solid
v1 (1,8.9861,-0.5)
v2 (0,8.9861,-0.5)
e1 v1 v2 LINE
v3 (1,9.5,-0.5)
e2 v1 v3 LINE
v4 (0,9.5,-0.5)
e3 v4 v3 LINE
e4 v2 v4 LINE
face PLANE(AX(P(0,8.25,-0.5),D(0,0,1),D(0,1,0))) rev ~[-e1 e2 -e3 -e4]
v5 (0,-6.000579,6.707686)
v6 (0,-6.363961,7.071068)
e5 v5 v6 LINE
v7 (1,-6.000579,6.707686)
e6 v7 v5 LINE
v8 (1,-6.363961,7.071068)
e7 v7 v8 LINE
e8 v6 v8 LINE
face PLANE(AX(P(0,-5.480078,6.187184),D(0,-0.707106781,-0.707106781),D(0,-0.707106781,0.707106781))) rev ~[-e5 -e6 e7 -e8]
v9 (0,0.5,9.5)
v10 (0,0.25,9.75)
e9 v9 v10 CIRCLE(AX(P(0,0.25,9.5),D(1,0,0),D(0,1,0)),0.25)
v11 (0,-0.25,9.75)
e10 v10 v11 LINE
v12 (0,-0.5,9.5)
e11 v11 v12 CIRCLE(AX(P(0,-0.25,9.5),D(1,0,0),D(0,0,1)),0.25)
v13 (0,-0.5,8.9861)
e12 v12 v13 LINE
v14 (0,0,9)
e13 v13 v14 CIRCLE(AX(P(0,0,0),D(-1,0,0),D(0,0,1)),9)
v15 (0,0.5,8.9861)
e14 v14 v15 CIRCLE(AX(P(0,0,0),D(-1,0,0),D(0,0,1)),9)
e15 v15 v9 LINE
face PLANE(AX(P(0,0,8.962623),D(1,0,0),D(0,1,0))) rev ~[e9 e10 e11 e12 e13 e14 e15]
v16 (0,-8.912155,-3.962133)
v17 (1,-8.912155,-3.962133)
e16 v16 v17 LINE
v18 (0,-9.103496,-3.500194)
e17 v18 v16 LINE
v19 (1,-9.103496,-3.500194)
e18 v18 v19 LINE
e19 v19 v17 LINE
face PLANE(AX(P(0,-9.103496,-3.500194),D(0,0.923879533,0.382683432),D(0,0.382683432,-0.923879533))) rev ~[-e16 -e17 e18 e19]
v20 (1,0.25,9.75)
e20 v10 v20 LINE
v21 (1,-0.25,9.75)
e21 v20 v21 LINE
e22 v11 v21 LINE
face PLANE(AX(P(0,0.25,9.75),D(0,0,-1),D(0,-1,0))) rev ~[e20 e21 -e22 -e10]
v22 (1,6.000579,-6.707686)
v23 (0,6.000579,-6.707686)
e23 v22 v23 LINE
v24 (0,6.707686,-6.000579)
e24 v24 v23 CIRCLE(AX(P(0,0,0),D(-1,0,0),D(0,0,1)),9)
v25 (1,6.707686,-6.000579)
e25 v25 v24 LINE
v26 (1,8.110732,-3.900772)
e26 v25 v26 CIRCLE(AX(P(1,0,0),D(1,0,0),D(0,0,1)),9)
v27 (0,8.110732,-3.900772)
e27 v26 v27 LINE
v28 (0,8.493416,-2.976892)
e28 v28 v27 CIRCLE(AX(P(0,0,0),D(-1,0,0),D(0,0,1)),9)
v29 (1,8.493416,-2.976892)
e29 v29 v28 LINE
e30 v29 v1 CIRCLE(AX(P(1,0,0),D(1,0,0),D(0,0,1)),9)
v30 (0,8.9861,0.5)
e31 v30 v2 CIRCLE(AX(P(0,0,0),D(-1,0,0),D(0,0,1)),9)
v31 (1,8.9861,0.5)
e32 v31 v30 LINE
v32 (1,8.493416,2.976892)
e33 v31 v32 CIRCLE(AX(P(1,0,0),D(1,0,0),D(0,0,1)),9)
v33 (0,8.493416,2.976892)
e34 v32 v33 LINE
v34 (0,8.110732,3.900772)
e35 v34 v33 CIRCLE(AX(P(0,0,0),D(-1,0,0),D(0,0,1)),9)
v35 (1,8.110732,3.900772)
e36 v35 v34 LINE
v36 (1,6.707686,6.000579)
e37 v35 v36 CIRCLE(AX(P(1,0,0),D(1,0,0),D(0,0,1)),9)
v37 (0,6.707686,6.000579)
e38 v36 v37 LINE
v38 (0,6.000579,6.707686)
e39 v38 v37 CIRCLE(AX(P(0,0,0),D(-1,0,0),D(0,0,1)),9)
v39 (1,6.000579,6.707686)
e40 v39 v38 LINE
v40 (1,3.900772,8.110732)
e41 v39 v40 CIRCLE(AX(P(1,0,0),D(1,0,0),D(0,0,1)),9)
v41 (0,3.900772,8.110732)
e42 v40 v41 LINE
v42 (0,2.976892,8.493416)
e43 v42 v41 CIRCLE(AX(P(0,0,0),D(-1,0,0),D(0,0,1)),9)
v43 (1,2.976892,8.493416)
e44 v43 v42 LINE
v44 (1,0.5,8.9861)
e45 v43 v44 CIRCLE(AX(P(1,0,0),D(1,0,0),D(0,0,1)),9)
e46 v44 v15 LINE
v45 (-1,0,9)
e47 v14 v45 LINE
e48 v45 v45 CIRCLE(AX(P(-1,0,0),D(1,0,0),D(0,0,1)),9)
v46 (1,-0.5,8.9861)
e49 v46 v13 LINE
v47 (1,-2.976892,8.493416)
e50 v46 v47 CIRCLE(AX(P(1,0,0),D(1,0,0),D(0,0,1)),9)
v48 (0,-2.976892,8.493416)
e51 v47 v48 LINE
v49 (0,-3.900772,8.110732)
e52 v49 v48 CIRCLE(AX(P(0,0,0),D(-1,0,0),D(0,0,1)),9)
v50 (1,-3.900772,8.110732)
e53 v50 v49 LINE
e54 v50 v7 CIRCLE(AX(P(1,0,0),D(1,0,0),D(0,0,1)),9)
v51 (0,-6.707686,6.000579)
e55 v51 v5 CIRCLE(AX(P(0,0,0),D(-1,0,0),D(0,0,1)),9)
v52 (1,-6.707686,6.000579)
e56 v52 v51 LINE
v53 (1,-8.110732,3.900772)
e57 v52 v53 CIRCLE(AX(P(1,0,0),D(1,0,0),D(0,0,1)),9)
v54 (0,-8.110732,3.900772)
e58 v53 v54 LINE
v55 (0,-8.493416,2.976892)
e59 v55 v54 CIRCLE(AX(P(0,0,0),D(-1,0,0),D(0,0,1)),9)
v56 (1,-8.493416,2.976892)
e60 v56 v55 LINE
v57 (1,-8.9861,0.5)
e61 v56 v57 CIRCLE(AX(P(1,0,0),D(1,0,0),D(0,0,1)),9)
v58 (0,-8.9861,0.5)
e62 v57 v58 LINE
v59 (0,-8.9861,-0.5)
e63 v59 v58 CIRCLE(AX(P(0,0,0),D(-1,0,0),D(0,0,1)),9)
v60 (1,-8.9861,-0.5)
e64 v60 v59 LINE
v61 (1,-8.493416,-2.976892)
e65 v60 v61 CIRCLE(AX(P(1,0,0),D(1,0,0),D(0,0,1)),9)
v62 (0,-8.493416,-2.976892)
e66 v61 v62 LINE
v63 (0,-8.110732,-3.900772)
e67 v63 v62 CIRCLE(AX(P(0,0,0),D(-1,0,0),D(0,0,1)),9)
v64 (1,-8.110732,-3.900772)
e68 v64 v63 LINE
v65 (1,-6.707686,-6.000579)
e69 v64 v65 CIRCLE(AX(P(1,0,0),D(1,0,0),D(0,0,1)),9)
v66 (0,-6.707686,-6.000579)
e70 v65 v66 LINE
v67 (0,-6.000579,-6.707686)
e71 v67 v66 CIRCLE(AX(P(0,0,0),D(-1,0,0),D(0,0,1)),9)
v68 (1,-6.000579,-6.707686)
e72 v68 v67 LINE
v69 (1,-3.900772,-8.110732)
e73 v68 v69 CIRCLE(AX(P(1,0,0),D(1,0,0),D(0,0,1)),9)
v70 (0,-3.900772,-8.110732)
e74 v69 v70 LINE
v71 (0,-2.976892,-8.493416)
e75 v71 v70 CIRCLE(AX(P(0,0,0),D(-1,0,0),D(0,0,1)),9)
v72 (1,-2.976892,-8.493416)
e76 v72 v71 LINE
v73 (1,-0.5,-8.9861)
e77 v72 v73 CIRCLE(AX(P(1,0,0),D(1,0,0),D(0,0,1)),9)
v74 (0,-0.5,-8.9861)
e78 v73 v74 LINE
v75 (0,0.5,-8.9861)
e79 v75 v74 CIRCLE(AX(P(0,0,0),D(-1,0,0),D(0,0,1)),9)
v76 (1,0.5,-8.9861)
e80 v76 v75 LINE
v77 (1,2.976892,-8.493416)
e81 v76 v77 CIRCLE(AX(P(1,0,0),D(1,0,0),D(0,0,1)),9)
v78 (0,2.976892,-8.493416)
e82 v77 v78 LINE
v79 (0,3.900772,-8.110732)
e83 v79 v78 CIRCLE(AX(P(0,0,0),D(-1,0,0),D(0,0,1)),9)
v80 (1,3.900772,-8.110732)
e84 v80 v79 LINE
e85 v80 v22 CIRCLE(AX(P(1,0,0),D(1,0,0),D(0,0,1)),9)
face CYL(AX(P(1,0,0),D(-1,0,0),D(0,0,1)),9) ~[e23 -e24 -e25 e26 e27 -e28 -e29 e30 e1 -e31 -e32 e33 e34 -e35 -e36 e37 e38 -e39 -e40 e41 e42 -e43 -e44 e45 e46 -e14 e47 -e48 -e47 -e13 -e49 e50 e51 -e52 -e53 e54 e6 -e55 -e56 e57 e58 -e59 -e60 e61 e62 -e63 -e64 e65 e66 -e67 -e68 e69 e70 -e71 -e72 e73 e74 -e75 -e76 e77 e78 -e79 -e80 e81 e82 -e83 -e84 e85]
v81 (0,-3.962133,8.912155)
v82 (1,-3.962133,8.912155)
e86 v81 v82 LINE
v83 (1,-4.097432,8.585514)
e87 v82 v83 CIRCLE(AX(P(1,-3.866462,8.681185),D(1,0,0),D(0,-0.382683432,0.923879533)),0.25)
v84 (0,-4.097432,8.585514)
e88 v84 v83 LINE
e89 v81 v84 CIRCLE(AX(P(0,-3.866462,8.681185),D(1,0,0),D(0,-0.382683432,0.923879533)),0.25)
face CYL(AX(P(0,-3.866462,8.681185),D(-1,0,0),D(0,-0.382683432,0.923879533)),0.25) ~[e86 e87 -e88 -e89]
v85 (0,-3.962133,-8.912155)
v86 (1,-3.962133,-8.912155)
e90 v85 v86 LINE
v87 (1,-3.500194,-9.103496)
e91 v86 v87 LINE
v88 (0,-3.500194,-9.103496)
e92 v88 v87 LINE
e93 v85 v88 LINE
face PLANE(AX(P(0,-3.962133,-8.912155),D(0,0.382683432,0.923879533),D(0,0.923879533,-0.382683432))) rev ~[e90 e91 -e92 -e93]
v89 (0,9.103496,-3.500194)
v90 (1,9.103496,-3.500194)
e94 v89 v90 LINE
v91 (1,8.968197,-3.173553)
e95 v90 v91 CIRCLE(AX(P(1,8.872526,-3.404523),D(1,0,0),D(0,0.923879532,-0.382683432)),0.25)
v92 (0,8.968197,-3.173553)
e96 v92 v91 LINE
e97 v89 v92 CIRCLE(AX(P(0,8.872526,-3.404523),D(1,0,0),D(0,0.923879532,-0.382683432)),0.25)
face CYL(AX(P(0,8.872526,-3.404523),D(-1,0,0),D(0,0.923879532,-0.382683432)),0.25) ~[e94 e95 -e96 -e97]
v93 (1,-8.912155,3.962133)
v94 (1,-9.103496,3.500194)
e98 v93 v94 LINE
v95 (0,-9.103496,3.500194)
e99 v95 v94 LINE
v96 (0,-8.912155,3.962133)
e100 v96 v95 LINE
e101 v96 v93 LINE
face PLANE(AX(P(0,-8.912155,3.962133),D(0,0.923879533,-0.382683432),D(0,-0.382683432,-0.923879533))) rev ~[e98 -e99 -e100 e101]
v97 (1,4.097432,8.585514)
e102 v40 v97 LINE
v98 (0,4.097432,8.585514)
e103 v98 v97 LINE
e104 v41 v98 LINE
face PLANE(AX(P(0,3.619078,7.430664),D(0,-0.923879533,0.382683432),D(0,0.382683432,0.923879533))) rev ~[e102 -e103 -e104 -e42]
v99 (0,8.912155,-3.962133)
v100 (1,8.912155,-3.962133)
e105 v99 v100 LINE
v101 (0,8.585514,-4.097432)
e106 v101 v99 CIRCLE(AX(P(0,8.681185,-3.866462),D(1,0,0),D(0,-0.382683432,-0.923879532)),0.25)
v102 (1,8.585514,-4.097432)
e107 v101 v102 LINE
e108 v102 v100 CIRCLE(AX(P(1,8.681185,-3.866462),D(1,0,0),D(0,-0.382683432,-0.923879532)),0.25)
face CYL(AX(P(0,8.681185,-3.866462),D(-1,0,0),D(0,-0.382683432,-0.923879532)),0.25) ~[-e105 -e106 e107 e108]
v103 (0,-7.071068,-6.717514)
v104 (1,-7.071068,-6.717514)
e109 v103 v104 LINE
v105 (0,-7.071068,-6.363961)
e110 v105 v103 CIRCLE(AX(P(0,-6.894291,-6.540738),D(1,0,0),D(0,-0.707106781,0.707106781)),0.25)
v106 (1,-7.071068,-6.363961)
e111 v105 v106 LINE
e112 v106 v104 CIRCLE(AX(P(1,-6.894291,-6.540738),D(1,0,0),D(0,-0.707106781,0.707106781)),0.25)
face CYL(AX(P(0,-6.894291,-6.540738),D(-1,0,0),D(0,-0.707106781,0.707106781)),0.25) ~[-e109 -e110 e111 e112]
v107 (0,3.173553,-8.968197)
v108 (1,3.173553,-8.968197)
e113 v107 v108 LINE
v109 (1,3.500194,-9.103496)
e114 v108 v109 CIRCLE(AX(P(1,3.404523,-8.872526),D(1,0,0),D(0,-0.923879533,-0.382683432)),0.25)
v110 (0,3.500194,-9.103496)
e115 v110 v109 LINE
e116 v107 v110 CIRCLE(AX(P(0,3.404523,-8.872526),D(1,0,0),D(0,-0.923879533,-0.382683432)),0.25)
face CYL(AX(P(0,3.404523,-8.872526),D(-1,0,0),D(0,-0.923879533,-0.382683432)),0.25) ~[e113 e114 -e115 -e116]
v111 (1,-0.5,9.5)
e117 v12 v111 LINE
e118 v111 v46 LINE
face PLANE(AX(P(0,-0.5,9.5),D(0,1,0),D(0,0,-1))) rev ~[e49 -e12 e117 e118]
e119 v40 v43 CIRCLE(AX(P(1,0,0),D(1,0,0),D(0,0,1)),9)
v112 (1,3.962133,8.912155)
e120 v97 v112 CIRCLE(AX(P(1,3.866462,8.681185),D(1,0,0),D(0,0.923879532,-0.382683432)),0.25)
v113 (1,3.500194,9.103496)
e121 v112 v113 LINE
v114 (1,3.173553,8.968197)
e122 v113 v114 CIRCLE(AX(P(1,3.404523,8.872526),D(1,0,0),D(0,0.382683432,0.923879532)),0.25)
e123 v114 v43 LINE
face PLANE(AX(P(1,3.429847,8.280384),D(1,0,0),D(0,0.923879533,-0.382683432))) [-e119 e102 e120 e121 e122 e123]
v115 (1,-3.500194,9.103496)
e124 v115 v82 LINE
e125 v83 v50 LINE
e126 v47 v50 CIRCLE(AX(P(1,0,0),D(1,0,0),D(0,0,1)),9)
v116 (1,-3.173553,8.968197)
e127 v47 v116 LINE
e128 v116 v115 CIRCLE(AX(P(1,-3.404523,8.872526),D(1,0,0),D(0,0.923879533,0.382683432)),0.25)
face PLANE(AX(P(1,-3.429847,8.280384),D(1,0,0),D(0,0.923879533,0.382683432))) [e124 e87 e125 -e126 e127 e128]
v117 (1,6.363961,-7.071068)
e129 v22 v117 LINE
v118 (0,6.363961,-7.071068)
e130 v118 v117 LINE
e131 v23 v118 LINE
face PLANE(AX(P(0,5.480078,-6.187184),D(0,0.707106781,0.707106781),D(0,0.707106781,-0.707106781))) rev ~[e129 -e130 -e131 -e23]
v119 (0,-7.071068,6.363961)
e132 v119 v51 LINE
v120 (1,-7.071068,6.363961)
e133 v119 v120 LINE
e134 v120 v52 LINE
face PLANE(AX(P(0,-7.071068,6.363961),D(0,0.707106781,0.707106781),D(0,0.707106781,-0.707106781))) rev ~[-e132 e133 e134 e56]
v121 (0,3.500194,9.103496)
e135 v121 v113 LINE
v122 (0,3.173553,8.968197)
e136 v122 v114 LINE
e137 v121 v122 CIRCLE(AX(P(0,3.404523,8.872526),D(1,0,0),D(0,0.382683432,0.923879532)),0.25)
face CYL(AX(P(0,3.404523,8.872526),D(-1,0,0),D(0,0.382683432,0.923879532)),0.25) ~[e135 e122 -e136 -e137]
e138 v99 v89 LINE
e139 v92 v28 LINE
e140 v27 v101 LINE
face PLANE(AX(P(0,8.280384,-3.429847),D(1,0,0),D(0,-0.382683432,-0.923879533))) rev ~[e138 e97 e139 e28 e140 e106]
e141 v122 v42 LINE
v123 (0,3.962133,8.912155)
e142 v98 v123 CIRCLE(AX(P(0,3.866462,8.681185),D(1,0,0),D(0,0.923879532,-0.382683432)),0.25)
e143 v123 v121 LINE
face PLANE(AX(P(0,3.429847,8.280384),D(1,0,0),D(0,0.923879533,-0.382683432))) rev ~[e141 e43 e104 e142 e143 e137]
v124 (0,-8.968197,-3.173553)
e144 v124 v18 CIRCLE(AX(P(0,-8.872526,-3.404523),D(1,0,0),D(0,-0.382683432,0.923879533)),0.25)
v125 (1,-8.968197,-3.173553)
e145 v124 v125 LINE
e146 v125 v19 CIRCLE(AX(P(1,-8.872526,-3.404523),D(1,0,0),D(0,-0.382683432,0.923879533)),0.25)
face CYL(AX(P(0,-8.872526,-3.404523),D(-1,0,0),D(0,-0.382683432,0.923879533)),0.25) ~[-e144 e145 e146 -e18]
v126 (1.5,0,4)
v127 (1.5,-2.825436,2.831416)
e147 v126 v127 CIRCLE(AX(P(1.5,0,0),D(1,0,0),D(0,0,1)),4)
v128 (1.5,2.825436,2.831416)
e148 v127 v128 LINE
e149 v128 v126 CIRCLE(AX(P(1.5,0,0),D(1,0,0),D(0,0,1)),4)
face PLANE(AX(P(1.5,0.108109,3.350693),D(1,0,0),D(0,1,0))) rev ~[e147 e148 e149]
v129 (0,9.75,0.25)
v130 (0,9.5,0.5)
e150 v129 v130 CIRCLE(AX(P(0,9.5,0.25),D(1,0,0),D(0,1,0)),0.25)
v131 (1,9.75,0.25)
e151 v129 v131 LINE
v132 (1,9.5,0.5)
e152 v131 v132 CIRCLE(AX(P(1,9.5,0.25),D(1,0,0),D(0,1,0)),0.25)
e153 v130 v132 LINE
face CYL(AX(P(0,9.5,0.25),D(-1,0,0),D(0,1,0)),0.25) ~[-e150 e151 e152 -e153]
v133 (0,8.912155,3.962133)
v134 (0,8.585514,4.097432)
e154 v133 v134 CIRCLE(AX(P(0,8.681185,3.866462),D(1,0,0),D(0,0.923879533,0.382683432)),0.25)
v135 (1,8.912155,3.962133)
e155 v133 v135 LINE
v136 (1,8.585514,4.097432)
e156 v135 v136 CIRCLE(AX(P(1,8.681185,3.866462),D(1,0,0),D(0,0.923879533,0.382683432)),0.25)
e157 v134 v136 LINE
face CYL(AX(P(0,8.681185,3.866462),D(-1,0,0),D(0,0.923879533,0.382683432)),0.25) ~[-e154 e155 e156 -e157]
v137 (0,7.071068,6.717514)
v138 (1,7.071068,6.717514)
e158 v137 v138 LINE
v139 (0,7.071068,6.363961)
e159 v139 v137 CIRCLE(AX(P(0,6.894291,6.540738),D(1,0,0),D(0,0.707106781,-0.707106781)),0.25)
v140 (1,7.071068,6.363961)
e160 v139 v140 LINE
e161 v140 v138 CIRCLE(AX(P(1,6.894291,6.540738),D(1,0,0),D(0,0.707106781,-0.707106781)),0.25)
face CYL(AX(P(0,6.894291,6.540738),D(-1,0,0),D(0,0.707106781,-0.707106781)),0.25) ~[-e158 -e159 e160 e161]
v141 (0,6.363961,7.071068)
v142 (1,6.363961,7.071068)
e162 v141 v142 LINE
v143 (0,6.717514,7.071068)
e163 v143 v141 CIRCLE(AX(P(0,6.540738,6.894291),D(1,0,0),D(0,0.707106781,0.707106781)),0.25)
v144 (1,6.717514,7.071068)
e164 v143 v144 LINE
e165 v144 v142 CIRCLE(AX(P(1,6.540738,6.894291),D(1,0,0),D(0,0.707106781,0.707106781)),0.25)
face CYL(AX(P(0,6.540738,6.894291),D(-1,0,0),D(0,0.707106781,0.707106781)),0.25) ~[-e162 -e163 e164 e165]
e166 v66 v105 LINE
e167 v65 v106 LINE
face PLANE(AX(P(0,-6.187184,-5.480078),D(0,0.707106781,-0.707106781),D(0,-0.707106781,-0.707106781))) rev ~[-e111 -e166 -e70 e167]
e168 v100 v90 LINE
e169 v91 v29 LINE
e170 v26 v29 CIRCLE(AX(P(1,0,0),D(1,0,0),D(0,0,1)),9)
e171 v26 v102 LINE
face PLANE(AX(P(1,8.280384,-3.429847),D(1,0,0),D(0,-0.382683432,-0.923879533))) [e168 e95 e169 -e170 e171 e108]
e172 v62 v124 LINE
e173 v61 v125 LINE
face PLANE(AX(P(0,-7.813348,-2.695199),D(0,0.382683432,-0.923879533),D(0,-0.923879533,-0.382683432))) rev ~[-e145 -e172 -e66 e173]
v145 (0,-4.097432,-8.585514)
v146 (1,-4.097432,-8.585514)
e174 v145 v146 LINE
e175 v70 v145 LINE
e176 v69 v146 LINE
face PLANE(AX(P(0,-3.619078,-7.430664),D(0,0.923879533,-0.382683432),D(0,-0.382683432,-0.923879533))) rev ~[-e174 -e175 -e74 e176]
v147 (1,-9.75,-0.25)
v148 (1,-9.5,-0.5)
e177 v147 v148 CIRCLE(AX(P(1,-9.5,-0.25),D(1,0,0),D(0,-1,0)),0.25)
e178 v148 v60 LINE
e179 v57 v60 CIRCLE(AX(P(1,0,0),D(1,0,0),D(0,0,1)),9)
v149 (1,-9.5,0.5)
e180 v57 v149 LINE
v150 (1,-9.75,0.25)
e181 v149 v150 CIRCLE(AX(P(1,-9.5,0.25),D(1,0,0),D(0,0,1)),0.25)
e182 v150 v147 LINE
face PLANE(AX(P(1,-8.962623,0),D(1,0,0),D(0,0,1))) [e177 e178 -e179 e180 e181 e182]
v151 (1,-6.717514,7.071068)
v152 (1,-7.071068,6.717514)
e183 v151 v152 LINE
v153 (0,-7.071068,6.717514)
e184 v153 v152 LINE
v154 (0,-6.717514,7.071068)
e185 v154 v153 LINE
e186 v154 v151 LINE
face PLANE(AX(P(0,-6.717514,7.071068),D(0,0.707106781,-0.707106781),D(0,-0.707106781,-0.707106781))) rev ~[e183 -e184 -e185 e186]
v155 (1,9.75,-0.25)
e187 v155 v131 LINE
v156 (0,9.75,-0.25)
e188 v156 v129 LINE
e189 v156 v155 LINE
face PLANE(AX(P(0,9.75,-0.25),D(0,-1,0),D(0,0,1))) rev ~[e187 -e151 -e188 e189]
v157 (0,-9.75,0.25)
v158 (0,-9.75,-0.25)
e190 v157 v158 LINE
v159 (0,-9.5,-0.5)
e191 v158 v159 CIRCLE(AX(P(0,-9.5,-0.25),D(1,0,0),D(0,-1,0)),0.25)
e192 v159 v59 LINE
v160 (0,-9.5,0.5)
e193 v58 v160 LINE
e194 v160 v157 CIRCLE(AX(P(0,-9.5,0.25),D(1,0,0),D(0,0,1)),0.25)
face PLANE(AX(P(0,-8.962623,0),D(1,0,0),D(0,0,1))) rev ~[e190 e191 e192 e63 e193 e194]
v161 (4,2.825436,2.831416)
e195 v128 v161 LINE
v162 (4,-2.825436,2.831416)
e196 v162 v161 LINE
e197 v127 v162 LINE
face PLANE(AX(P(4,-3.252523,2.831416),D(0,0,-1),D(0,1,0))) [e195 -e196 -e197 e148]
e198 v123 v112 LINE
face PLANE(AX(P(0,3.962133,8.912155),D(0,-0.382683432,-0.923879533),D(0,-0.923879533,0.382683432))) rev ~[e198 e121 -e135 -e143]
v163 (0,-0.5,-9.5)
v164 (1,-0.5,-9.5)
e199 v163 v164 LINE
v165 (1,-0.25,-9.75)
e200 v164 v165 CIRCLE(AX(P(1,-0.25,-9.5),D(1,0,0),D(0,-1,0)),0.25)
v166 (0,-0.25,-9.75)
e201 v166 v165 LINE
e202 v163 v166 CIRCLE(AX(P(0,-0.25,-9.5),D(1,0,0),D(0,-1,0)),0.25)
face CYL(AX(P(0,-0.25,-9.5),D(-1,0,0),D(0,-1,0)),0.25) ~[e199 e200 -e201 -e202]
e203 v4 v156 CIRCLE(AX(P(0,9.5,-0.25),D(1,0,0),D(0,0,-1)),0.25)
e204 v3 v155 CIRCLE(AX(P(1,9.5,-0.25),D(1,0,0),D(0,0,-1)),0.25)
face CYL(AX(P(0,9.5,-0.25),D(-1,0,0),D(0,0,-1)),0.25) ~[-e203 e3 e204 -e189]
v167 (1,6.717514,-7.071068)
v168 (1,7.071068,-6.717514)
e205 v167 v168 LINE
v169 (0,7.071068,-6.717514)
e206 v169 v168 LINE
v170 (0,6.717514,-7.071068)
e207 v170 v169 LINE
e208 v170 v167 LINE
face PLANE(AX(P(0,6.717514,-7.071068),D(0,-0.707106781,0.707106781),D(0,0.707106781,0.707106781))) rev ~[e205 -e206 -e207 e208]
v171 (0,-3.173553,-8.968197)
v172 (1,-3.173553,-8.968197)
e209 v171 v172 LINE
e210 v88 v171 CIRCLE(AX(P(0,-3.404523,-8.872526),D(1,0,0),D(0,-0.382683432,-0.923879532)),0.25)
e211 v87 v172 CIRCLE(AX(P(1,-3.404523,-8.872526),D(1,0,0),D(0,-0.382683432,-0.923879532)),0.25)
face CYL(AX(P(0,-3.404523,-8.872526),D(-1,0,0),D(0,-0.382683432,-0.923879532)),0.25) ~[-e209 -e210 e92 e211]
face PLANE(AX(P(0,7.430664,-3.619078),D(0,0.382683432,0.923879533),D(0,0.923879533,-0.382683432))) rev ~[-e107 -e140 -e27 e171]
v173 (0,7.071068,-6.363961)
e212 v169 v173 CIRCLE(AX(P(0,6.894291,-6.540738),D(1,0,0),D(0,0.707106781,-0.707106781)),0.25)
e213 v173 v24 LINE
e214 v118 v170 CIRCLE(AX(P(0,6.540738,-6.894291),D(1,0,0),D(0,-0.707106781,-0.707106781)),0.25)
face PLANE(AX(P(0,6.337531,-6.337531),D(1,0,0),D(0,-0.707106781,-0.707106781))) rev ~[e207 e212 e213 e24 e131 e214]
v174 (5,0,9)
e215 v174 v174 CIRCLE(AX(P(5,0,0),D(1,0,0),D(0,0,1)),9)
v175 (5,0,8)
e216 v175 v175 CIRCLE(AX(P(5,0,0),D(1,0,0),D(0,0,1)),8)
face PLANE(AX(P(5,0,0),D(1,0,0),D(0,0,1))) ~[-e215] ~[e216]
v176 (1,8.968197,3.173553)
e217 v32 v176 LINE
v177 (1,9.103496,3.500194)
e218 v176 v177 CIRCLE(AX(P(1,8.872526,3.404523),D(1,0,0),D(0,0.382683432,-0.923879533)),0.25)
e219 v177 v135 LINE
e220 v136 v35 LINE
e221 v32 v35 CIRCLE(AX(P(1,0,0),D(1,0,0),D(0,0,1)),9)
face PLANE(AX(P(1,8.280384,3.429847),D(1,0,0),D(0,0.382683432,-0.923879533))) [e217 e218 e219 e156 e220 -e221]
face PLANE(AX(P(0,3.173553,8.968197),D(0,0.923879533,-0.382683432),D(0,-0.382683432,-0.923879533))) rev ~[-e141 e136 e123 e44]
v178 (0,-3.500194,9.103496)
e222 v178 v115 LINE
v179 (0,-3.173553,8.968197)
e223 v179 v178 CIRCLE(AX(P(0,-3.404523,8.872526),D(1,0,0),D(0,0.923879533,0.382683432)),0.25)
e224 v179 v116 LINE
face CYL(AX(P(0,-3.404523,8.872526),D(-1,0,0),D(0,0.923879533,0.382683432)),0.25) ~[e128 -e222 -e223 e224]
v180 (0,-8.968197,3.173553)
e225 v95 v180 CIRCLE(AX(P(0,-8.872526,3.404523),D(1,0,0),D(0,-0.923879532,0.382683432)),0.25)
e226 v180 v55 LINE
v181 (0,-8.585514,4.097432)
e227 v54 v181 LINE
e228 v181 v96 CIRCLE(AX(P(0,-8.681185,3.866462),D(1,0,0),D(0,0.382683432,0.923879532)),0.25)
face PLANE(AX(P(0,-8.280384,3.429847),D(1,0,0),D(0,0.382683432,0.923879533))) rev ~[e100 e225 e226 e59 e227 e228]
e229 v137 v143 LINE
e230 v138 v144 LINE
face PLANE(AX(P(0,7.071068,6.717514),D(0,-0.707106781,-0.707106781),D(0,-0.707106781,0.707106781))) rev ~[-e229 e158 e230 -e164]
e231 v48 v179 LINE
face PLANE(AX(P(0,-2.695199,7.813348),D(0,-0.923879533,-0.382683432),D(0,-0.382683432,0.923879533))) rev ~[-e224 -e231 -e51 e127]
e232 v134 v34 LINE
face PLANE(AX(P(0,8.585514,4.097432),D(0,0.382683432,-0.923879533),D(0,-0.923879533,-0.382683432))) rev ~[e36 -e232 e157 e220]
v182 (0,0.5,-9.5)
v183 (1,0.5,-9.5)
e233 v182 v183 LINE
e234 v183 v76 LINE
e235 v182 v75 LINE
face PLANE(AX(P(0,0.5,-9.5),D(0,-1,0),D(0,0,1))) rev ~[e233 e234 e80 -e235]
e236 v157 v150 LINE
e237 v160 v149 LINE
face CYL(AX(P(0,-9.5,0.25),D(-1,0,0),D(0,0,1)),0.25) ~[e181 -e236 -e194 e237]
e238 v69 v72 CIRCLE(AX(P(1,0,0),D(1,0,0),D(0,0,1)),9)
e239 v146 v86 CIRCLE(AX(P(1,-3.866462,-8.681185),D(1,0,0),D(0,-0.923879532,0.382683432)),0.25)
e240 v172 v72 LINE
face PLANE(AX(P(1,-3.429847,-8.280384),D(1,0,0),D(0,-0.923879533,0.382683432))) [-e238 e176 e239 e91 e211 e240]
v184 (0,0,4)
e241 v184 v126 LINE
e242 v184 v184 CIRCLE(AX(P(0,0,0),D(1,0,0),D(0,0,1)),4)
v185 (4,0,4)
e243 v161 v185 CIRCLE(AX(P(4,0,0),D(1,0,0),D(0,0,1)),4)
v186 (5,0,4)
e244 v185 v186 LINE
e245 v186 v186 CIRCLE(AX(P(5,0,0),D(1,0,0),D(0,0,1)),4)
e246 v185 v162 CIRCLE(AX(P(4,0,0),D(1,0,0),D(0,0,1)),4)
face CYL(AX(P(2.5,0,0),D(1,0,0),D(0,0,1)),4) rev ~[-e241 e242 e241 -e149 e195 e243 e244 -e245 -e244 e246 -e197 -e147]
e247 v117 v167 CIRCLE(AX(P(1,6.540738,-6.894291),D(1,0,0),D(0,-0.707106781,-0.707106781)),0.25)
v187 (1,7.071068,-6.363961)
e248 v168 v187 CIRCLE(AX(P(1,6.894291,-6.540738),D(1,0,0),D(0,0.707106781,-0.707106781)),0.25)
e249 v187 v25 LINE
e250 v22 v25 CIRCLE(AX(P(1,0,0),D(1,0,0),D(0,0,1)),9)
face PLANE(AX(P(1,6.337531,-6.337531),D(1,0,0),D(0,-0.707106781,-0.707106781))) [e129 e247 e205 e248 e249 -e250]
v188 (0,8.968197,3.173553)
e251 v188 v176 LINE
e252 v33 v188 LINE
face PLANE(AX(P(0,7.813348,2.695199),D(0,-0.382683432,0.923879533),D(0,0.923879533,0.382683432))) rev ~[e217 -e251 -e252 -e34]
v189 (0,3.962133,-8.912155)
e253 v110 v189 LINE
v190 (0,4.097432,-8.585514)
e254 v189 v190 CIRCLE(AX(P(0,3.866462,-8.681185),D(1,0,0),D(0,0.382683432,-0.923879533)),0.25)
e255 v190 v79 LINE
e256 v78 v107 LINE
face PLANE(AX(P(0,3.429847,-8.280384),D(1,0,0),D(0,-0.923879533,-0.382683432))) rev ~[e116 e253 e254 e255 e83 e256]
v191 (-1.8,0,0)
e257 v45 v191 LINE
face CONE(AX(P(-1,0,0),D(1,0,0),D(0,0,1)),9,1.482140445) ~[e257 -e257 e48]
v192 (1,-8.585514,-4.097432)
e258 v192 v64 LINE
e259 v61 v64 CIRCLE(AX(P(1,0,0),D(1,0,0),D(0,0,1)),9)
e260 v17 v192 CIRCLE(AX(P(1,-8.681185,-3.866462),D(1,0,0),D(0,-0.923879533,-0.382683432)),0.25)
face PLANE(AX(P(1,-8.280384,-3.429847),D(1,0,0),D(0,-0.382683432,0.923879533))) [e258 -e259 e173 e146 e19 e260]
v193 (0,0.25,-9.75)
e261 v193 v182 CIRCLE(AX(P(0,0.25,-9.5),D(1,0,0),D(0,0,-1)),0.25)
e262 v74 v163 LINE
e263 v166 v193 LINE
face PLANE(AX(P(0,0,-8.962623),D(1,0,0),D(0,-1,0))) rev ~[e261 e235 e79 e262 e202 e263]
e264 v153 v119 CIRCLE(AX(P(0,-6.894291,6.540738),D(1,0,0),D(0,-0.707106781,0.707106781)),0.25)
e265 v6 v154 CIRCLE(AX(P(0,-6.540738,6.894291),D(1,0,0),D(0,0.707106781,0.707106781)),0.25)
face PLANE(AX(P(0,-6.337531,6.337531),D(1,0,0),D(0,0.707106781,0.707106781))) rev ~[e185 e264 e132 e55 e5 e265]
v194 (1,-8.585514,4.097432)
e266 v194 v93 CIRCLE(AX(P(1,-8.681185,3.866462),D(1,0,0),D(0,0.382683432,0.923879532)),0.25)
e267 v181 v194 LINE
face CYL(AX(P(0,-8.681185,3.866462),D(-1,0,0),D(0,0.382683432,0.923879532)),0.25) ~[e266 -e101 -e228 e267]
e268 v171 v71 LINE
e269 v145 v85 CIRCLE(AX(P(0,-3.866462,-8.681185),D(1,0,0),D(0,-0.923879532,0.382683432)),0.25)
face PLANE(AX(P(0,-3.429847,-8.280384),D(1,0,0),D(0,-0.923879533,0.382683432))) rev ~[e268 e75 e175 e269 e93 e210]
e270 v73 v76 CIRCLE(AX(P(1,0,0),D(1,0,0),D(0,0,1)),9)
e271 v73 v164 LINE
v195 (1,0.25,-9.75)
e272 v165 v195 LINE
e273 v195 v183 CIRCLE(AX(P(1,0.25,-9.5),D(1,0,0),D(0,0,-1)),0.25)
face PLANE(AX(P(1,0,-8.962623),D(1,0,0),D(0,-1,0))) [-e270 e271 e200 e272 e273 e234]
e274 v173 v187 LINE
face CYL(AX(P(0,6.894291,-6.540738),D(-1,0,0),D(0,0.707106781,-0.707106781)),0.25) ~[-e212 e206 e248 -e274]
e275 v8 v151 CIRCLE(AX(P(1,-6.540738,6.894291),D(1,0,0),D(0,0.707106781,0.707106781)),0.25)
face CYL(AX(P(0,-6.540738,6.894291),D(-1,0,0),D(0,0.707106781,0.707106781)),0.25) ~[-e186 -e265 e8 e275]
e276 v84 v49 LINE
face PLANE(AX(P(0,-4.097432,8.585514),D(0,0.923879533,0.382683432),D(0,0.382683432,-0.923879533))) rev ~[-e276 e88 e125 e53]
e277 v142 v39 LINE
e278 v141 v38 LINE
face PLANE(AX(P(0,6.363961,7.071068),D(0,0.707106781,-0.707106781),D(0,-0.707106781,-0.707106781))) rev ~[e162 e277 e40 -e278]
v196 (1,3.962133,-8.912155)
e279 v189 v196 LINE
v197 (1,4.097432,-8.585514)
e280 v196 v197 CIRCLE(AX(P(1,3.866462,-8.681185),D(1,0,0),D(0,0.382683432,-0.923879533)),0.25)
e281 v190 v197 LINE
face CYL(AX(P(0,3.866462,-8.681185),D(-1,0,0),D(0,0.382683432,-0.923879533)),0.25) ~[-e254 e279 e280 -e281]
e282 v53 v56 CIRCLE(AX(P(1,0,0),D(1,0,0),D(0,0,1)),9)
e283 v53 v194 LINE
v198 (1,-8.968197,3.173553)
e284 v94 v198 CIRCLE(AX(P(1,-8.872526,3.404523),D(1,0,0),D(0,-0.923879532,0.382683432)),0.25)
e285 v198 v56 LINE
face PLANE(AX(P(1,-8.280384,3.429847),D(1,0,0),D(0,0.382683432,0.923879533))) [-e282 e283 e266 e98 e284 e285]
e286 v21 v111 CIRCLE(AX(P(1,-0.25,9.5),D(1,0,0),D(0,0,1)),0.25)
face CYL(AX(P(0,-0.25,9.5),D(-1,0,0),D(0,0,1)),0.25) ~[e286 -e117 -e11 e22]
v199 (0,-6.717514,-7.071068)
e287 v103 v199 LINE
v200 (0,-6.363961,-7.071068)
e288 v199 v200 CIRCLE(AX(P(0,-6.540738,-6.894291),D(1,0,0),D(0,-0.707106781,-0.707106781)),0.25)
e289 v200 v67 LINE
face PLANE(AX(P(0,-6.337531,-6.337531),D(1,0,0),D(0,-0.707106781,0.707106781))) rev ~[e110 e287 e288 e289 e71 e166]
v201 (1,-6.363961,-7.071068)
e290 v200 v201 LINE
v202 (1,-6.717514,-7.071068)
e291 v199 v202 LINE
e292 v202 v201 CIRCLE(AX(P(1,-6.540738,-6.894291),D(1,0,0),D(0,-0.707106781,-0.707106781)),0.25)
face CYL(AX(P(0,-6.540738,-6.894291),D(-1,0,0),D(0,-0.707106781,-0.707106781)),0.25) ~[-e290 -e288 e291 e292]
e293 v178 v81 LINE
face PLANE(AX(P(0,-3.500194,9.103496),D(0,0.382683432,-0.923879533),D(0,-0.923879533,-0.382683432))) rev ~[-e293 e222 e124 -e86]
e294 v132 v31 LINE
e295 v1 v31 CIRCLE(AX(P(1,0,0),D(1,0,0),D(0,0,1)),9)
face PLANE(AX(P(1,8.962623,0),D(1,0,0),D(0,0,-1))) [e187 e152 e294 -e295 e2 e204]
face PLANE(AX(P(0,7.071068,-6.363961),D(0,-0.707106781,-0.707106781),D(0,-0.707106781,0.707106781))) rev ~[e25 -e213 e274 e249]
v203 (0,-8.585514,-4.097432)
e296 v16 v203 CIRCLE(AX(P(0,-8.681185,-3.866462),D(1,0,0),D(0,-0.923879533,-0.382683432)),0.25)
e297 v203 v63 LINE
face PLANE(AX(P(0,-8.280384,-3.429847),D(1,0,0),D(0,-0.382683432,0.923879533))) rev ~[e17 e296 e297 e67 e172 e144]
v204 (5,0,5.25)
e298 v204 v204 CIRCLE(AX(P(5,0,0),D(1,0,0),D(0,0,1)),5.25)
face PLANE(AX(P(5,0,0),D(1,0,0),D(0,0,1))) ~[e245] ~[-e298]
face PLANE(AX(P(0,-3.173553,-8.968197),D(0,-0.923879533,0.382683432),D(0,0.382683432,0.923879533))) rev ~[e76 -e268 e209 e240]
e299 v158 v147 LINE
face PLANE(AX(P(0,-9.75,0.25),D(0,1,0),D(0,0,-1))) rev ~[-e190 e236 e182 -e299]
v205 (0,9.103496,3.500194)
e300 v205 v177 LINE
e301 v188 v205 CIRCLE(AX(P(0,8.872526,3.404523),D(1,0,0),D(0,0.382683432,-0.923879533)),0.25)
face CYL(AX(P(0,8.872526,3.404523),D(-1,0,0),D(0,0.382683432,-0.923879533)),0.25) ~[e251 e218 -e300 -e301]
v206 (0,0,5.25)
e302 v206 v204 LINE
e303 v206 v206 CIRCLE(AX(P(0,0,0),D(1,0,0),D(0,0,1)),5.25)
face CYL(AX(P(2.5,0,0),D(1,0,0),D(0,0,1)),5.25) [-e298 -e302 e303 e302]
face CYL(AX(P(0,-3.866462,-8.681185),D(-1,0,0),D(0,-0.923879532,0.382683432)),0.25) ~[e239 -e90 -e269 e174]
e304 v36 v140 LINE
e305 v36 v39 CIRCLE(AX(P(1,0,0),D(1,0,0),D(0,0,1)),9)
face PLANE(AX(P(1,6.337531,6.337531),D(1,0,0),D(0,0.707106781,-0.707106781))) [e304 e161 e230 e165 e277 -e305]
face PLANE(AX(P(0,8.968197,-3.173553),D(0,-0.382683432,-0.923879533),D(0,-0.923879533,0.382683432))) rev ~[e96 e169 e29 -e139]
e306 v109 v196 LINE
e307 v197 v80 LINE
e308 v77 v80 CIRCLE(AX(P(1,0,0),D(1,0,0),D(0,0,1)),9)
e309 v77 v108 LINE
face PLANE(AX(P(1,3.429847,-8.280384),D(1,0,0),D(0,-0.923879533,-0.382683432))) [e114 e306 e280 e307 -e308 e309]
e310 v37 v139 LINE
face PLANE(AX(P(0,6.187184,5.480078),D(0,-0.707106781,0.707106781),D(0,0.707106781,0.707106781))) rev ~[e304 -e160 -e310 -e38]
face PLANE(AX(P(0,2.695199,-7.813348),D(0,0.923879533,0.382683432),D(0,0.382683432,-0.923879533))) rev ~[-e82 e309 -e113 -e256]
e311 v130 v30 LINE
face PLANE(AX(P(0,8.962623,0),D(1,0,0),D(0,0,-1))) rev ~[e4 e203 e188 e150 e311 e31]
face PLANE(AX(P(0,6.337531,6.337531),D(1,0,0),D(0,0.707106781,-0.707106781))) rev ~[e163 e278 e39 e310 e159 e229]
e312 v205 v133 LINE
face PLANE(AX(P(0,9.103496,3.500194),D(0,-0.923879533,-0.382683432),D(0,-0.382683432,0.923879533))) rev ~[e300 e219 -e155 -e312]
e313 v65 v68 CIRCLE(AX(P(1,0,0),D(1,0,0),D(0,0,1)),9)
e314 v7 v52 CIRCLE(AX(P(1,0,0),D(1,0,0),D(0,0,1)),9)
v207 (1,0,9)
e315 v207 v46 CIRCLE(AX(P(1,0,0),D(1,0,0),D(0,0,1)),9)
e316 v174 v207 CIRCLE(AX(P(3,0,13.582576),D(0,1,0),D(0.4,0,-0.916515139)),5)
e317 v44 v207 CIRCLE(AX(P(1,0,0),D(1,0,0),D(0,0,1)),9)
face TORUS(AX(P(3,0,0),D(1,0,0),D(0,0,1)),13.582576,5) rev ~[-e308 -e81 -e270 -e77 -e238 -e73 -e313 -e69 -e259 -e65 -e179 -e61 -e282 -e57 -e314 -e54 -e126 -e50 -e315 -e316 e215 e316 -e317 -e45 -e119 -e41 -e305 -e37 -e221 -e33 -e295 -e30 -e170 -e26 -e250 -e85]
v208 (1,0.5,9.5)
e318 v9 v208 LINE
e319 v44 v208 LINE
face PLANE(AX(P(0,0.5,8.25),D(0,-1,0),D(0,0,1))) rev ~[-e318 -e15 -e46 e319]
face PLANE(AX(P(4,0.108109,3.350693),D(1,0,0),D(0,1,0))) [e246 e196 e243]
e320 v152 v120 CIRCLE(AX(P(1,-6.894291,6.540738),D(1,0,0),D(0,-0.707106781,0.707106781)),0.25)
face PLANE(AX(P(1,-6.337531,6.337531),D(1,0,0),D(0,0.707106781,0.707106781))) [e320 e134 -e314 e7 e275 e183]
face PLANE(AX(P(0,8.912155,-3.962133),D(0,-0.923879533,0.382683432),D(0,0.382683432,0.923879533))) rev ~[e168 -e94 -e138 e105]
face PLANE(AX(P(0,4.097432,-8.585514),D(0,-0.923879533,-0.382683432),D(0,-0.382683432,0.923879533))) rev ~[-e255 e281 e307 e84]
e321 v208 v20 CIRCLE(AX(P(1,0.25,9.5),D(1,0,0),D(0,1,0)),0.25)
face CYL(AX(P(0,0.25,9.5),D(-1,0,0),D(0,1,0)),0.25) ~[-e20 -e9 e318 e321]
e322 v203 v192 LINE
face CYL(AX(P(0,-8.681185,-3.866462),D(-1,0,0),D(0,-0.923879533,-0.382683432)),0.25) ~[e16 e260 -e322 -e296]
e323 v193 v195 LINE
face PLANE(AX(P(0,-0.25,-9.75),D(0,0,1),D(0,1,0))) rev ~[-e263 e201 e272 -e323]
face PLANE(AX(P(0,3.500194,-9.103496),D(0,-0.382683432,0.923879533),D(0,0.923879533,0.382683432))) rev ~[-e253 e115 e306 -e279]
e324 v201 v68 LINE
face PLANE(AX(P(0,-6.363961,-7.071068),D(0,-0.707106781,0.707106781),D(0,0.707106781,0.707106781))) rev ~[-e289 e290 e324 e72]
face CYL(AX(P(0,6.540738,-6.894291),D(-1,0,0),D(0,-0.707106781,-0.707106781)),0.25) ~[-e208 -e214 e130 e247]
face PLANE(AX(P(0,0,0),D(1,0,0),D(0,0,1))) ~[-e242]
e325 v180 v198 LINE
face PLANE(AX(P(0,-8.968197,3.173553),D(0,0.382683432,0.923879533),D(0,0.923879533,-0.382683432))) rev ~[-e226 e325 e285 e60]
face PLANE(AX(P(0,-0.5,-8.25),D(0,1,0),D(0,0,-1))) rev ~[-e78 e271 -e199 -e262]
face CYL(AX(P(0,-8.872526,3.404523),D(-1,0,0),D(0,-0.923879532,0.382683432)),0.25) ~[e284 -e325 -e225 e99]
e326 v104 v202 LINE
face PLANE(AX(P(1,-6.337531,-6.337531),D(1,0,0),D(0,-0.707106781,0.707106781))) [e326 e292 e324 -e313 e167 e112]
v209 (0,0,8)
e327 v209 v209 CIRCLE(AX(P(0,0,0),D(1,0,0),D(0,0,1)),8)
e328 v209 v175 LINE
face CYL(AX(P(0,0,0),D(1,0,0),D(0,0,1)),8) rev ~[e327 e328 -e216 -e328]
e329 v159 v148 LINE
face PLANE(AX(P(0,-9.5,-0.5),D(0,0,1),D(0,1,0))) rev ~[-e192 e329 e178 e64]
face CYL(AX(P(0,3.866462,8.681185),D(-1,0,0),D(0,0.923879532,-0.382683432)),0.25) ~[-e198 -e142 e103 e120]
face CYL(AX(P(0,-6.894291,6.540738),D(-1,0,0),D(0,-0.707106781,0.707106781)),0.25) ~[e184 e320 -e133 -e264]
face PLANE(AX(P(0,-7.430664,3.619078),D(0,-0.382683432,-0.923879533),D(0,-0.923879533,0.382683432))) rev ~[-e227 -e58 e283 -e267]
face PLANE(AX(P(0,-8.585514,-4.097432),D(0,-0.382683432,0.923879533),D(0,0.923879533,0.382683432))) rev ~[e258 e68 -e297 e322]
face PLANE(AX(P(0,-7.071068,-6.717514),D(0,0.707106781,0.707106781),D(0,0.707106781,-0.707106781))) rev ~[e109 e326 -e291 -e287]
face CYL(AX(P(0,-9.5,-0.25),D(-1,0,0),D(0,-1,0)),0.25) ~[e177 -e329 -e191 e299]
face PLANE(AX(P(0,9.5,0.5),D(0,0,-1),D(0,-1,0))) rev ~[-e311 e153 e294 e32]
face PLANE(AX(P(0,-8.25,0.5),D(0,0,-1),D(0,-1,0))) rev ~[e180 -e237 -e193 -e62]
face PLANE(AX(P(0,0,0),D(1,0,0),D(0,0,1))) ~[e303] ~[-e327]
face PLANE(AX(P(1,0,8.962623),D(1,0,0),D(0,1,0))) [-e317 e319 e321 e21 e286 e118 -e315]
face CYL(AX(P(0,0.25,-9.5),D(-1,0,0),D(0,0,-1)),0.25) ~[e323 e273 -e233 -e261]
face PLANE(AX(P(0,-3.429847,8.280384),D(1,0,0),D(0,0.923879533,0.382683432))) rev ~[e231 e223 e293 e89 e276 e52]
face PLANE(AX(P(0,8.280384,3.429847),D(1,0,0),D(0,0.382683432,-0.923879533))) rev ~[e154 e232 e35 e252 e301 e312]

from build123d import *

# Parameters (mm, degrees)
F0_W     = 5
F0_H     = 1.25
F3_DEPTH = 1
F4_COUNT = 16
F4_ANGLE = 337.5
F7_DEPTH = 2.5


with BuildPart() as f1:
    # F0 (on Front) → F1 (revolve)
    with BuildSketch(Plane.XZ):
        with BuildLine():
            Line((0, 9), (-1, 9))
            Line((-1, 9), (-1.8, 0))
            Line((-1.8, 0), (0, 0))
            Line((0, 0), (0, 4))
            Line((0, 4), (0, 5.25))
            Line((0, 5.25), (0, 8))
            Line((0, 8), (5, 8))
            Line((5, 8), (5, 9))
            ThreePointArc((5, 9), (3, 8.582575695), (1, 9))
            Line((1, 9), (0, 9))
        make_face()
        with Locations((2.5, 4.625)):
            Rectangle(F0_W, F0_H)
    revolve(axis=Axis((5, 0, 0), (1, 0, 0)))

    # F2 (on Right) → F3 (join)
    with BuildSketch(Plane.YZ):
        with BuildLine():
            Line((-0.5, 9.5), (-0.5, 8.25))
            Line((-0.5, 8.25), (0.5, 8.25))
            Line((0.5, 8.25), (0.5, 9.5))
            ThreePointArc((0.5, 9.5), (0.4267766953, 9.6767766953), (0.25, 9.75))
            Line((0.25, 9.75), (-0.25, 9.75))
            ThreePointArc((-0.25, 9.75), (-0.4267766953, 9.6767766953), (-0.5, 9.5))
        make_face()
    f3 = extrude(amount=F3_DEPTH)

    # F4: F3 ×16 about axis
    f4_axis = Axis((-1, 0, 0), (1, 0, 0))
    for i in range(1, F4_COUNT):
        add(f3.rotate(f4_axis, i * F4_ANGLE / (F4_COUNT - 1)))

    # F6 (on offset) → F7 (join)
    with BuildSketch(Plane.YZ.offset(4)):
        with BuildLine():
            Line((-3.2525225542, 2.8314155061), (0, 2.8314155061))
            Line((0, 2.8314155061), (3.46874143, 2.8314155061))
            ThreePointArc((3.46874143, 2.8314155061), (0.1081094379, 4.4914928185), (-3.2525225542, 2.8314155061))
        make_face()
    extrude(amount=-F7_DEPTH)


solid = f1.part
